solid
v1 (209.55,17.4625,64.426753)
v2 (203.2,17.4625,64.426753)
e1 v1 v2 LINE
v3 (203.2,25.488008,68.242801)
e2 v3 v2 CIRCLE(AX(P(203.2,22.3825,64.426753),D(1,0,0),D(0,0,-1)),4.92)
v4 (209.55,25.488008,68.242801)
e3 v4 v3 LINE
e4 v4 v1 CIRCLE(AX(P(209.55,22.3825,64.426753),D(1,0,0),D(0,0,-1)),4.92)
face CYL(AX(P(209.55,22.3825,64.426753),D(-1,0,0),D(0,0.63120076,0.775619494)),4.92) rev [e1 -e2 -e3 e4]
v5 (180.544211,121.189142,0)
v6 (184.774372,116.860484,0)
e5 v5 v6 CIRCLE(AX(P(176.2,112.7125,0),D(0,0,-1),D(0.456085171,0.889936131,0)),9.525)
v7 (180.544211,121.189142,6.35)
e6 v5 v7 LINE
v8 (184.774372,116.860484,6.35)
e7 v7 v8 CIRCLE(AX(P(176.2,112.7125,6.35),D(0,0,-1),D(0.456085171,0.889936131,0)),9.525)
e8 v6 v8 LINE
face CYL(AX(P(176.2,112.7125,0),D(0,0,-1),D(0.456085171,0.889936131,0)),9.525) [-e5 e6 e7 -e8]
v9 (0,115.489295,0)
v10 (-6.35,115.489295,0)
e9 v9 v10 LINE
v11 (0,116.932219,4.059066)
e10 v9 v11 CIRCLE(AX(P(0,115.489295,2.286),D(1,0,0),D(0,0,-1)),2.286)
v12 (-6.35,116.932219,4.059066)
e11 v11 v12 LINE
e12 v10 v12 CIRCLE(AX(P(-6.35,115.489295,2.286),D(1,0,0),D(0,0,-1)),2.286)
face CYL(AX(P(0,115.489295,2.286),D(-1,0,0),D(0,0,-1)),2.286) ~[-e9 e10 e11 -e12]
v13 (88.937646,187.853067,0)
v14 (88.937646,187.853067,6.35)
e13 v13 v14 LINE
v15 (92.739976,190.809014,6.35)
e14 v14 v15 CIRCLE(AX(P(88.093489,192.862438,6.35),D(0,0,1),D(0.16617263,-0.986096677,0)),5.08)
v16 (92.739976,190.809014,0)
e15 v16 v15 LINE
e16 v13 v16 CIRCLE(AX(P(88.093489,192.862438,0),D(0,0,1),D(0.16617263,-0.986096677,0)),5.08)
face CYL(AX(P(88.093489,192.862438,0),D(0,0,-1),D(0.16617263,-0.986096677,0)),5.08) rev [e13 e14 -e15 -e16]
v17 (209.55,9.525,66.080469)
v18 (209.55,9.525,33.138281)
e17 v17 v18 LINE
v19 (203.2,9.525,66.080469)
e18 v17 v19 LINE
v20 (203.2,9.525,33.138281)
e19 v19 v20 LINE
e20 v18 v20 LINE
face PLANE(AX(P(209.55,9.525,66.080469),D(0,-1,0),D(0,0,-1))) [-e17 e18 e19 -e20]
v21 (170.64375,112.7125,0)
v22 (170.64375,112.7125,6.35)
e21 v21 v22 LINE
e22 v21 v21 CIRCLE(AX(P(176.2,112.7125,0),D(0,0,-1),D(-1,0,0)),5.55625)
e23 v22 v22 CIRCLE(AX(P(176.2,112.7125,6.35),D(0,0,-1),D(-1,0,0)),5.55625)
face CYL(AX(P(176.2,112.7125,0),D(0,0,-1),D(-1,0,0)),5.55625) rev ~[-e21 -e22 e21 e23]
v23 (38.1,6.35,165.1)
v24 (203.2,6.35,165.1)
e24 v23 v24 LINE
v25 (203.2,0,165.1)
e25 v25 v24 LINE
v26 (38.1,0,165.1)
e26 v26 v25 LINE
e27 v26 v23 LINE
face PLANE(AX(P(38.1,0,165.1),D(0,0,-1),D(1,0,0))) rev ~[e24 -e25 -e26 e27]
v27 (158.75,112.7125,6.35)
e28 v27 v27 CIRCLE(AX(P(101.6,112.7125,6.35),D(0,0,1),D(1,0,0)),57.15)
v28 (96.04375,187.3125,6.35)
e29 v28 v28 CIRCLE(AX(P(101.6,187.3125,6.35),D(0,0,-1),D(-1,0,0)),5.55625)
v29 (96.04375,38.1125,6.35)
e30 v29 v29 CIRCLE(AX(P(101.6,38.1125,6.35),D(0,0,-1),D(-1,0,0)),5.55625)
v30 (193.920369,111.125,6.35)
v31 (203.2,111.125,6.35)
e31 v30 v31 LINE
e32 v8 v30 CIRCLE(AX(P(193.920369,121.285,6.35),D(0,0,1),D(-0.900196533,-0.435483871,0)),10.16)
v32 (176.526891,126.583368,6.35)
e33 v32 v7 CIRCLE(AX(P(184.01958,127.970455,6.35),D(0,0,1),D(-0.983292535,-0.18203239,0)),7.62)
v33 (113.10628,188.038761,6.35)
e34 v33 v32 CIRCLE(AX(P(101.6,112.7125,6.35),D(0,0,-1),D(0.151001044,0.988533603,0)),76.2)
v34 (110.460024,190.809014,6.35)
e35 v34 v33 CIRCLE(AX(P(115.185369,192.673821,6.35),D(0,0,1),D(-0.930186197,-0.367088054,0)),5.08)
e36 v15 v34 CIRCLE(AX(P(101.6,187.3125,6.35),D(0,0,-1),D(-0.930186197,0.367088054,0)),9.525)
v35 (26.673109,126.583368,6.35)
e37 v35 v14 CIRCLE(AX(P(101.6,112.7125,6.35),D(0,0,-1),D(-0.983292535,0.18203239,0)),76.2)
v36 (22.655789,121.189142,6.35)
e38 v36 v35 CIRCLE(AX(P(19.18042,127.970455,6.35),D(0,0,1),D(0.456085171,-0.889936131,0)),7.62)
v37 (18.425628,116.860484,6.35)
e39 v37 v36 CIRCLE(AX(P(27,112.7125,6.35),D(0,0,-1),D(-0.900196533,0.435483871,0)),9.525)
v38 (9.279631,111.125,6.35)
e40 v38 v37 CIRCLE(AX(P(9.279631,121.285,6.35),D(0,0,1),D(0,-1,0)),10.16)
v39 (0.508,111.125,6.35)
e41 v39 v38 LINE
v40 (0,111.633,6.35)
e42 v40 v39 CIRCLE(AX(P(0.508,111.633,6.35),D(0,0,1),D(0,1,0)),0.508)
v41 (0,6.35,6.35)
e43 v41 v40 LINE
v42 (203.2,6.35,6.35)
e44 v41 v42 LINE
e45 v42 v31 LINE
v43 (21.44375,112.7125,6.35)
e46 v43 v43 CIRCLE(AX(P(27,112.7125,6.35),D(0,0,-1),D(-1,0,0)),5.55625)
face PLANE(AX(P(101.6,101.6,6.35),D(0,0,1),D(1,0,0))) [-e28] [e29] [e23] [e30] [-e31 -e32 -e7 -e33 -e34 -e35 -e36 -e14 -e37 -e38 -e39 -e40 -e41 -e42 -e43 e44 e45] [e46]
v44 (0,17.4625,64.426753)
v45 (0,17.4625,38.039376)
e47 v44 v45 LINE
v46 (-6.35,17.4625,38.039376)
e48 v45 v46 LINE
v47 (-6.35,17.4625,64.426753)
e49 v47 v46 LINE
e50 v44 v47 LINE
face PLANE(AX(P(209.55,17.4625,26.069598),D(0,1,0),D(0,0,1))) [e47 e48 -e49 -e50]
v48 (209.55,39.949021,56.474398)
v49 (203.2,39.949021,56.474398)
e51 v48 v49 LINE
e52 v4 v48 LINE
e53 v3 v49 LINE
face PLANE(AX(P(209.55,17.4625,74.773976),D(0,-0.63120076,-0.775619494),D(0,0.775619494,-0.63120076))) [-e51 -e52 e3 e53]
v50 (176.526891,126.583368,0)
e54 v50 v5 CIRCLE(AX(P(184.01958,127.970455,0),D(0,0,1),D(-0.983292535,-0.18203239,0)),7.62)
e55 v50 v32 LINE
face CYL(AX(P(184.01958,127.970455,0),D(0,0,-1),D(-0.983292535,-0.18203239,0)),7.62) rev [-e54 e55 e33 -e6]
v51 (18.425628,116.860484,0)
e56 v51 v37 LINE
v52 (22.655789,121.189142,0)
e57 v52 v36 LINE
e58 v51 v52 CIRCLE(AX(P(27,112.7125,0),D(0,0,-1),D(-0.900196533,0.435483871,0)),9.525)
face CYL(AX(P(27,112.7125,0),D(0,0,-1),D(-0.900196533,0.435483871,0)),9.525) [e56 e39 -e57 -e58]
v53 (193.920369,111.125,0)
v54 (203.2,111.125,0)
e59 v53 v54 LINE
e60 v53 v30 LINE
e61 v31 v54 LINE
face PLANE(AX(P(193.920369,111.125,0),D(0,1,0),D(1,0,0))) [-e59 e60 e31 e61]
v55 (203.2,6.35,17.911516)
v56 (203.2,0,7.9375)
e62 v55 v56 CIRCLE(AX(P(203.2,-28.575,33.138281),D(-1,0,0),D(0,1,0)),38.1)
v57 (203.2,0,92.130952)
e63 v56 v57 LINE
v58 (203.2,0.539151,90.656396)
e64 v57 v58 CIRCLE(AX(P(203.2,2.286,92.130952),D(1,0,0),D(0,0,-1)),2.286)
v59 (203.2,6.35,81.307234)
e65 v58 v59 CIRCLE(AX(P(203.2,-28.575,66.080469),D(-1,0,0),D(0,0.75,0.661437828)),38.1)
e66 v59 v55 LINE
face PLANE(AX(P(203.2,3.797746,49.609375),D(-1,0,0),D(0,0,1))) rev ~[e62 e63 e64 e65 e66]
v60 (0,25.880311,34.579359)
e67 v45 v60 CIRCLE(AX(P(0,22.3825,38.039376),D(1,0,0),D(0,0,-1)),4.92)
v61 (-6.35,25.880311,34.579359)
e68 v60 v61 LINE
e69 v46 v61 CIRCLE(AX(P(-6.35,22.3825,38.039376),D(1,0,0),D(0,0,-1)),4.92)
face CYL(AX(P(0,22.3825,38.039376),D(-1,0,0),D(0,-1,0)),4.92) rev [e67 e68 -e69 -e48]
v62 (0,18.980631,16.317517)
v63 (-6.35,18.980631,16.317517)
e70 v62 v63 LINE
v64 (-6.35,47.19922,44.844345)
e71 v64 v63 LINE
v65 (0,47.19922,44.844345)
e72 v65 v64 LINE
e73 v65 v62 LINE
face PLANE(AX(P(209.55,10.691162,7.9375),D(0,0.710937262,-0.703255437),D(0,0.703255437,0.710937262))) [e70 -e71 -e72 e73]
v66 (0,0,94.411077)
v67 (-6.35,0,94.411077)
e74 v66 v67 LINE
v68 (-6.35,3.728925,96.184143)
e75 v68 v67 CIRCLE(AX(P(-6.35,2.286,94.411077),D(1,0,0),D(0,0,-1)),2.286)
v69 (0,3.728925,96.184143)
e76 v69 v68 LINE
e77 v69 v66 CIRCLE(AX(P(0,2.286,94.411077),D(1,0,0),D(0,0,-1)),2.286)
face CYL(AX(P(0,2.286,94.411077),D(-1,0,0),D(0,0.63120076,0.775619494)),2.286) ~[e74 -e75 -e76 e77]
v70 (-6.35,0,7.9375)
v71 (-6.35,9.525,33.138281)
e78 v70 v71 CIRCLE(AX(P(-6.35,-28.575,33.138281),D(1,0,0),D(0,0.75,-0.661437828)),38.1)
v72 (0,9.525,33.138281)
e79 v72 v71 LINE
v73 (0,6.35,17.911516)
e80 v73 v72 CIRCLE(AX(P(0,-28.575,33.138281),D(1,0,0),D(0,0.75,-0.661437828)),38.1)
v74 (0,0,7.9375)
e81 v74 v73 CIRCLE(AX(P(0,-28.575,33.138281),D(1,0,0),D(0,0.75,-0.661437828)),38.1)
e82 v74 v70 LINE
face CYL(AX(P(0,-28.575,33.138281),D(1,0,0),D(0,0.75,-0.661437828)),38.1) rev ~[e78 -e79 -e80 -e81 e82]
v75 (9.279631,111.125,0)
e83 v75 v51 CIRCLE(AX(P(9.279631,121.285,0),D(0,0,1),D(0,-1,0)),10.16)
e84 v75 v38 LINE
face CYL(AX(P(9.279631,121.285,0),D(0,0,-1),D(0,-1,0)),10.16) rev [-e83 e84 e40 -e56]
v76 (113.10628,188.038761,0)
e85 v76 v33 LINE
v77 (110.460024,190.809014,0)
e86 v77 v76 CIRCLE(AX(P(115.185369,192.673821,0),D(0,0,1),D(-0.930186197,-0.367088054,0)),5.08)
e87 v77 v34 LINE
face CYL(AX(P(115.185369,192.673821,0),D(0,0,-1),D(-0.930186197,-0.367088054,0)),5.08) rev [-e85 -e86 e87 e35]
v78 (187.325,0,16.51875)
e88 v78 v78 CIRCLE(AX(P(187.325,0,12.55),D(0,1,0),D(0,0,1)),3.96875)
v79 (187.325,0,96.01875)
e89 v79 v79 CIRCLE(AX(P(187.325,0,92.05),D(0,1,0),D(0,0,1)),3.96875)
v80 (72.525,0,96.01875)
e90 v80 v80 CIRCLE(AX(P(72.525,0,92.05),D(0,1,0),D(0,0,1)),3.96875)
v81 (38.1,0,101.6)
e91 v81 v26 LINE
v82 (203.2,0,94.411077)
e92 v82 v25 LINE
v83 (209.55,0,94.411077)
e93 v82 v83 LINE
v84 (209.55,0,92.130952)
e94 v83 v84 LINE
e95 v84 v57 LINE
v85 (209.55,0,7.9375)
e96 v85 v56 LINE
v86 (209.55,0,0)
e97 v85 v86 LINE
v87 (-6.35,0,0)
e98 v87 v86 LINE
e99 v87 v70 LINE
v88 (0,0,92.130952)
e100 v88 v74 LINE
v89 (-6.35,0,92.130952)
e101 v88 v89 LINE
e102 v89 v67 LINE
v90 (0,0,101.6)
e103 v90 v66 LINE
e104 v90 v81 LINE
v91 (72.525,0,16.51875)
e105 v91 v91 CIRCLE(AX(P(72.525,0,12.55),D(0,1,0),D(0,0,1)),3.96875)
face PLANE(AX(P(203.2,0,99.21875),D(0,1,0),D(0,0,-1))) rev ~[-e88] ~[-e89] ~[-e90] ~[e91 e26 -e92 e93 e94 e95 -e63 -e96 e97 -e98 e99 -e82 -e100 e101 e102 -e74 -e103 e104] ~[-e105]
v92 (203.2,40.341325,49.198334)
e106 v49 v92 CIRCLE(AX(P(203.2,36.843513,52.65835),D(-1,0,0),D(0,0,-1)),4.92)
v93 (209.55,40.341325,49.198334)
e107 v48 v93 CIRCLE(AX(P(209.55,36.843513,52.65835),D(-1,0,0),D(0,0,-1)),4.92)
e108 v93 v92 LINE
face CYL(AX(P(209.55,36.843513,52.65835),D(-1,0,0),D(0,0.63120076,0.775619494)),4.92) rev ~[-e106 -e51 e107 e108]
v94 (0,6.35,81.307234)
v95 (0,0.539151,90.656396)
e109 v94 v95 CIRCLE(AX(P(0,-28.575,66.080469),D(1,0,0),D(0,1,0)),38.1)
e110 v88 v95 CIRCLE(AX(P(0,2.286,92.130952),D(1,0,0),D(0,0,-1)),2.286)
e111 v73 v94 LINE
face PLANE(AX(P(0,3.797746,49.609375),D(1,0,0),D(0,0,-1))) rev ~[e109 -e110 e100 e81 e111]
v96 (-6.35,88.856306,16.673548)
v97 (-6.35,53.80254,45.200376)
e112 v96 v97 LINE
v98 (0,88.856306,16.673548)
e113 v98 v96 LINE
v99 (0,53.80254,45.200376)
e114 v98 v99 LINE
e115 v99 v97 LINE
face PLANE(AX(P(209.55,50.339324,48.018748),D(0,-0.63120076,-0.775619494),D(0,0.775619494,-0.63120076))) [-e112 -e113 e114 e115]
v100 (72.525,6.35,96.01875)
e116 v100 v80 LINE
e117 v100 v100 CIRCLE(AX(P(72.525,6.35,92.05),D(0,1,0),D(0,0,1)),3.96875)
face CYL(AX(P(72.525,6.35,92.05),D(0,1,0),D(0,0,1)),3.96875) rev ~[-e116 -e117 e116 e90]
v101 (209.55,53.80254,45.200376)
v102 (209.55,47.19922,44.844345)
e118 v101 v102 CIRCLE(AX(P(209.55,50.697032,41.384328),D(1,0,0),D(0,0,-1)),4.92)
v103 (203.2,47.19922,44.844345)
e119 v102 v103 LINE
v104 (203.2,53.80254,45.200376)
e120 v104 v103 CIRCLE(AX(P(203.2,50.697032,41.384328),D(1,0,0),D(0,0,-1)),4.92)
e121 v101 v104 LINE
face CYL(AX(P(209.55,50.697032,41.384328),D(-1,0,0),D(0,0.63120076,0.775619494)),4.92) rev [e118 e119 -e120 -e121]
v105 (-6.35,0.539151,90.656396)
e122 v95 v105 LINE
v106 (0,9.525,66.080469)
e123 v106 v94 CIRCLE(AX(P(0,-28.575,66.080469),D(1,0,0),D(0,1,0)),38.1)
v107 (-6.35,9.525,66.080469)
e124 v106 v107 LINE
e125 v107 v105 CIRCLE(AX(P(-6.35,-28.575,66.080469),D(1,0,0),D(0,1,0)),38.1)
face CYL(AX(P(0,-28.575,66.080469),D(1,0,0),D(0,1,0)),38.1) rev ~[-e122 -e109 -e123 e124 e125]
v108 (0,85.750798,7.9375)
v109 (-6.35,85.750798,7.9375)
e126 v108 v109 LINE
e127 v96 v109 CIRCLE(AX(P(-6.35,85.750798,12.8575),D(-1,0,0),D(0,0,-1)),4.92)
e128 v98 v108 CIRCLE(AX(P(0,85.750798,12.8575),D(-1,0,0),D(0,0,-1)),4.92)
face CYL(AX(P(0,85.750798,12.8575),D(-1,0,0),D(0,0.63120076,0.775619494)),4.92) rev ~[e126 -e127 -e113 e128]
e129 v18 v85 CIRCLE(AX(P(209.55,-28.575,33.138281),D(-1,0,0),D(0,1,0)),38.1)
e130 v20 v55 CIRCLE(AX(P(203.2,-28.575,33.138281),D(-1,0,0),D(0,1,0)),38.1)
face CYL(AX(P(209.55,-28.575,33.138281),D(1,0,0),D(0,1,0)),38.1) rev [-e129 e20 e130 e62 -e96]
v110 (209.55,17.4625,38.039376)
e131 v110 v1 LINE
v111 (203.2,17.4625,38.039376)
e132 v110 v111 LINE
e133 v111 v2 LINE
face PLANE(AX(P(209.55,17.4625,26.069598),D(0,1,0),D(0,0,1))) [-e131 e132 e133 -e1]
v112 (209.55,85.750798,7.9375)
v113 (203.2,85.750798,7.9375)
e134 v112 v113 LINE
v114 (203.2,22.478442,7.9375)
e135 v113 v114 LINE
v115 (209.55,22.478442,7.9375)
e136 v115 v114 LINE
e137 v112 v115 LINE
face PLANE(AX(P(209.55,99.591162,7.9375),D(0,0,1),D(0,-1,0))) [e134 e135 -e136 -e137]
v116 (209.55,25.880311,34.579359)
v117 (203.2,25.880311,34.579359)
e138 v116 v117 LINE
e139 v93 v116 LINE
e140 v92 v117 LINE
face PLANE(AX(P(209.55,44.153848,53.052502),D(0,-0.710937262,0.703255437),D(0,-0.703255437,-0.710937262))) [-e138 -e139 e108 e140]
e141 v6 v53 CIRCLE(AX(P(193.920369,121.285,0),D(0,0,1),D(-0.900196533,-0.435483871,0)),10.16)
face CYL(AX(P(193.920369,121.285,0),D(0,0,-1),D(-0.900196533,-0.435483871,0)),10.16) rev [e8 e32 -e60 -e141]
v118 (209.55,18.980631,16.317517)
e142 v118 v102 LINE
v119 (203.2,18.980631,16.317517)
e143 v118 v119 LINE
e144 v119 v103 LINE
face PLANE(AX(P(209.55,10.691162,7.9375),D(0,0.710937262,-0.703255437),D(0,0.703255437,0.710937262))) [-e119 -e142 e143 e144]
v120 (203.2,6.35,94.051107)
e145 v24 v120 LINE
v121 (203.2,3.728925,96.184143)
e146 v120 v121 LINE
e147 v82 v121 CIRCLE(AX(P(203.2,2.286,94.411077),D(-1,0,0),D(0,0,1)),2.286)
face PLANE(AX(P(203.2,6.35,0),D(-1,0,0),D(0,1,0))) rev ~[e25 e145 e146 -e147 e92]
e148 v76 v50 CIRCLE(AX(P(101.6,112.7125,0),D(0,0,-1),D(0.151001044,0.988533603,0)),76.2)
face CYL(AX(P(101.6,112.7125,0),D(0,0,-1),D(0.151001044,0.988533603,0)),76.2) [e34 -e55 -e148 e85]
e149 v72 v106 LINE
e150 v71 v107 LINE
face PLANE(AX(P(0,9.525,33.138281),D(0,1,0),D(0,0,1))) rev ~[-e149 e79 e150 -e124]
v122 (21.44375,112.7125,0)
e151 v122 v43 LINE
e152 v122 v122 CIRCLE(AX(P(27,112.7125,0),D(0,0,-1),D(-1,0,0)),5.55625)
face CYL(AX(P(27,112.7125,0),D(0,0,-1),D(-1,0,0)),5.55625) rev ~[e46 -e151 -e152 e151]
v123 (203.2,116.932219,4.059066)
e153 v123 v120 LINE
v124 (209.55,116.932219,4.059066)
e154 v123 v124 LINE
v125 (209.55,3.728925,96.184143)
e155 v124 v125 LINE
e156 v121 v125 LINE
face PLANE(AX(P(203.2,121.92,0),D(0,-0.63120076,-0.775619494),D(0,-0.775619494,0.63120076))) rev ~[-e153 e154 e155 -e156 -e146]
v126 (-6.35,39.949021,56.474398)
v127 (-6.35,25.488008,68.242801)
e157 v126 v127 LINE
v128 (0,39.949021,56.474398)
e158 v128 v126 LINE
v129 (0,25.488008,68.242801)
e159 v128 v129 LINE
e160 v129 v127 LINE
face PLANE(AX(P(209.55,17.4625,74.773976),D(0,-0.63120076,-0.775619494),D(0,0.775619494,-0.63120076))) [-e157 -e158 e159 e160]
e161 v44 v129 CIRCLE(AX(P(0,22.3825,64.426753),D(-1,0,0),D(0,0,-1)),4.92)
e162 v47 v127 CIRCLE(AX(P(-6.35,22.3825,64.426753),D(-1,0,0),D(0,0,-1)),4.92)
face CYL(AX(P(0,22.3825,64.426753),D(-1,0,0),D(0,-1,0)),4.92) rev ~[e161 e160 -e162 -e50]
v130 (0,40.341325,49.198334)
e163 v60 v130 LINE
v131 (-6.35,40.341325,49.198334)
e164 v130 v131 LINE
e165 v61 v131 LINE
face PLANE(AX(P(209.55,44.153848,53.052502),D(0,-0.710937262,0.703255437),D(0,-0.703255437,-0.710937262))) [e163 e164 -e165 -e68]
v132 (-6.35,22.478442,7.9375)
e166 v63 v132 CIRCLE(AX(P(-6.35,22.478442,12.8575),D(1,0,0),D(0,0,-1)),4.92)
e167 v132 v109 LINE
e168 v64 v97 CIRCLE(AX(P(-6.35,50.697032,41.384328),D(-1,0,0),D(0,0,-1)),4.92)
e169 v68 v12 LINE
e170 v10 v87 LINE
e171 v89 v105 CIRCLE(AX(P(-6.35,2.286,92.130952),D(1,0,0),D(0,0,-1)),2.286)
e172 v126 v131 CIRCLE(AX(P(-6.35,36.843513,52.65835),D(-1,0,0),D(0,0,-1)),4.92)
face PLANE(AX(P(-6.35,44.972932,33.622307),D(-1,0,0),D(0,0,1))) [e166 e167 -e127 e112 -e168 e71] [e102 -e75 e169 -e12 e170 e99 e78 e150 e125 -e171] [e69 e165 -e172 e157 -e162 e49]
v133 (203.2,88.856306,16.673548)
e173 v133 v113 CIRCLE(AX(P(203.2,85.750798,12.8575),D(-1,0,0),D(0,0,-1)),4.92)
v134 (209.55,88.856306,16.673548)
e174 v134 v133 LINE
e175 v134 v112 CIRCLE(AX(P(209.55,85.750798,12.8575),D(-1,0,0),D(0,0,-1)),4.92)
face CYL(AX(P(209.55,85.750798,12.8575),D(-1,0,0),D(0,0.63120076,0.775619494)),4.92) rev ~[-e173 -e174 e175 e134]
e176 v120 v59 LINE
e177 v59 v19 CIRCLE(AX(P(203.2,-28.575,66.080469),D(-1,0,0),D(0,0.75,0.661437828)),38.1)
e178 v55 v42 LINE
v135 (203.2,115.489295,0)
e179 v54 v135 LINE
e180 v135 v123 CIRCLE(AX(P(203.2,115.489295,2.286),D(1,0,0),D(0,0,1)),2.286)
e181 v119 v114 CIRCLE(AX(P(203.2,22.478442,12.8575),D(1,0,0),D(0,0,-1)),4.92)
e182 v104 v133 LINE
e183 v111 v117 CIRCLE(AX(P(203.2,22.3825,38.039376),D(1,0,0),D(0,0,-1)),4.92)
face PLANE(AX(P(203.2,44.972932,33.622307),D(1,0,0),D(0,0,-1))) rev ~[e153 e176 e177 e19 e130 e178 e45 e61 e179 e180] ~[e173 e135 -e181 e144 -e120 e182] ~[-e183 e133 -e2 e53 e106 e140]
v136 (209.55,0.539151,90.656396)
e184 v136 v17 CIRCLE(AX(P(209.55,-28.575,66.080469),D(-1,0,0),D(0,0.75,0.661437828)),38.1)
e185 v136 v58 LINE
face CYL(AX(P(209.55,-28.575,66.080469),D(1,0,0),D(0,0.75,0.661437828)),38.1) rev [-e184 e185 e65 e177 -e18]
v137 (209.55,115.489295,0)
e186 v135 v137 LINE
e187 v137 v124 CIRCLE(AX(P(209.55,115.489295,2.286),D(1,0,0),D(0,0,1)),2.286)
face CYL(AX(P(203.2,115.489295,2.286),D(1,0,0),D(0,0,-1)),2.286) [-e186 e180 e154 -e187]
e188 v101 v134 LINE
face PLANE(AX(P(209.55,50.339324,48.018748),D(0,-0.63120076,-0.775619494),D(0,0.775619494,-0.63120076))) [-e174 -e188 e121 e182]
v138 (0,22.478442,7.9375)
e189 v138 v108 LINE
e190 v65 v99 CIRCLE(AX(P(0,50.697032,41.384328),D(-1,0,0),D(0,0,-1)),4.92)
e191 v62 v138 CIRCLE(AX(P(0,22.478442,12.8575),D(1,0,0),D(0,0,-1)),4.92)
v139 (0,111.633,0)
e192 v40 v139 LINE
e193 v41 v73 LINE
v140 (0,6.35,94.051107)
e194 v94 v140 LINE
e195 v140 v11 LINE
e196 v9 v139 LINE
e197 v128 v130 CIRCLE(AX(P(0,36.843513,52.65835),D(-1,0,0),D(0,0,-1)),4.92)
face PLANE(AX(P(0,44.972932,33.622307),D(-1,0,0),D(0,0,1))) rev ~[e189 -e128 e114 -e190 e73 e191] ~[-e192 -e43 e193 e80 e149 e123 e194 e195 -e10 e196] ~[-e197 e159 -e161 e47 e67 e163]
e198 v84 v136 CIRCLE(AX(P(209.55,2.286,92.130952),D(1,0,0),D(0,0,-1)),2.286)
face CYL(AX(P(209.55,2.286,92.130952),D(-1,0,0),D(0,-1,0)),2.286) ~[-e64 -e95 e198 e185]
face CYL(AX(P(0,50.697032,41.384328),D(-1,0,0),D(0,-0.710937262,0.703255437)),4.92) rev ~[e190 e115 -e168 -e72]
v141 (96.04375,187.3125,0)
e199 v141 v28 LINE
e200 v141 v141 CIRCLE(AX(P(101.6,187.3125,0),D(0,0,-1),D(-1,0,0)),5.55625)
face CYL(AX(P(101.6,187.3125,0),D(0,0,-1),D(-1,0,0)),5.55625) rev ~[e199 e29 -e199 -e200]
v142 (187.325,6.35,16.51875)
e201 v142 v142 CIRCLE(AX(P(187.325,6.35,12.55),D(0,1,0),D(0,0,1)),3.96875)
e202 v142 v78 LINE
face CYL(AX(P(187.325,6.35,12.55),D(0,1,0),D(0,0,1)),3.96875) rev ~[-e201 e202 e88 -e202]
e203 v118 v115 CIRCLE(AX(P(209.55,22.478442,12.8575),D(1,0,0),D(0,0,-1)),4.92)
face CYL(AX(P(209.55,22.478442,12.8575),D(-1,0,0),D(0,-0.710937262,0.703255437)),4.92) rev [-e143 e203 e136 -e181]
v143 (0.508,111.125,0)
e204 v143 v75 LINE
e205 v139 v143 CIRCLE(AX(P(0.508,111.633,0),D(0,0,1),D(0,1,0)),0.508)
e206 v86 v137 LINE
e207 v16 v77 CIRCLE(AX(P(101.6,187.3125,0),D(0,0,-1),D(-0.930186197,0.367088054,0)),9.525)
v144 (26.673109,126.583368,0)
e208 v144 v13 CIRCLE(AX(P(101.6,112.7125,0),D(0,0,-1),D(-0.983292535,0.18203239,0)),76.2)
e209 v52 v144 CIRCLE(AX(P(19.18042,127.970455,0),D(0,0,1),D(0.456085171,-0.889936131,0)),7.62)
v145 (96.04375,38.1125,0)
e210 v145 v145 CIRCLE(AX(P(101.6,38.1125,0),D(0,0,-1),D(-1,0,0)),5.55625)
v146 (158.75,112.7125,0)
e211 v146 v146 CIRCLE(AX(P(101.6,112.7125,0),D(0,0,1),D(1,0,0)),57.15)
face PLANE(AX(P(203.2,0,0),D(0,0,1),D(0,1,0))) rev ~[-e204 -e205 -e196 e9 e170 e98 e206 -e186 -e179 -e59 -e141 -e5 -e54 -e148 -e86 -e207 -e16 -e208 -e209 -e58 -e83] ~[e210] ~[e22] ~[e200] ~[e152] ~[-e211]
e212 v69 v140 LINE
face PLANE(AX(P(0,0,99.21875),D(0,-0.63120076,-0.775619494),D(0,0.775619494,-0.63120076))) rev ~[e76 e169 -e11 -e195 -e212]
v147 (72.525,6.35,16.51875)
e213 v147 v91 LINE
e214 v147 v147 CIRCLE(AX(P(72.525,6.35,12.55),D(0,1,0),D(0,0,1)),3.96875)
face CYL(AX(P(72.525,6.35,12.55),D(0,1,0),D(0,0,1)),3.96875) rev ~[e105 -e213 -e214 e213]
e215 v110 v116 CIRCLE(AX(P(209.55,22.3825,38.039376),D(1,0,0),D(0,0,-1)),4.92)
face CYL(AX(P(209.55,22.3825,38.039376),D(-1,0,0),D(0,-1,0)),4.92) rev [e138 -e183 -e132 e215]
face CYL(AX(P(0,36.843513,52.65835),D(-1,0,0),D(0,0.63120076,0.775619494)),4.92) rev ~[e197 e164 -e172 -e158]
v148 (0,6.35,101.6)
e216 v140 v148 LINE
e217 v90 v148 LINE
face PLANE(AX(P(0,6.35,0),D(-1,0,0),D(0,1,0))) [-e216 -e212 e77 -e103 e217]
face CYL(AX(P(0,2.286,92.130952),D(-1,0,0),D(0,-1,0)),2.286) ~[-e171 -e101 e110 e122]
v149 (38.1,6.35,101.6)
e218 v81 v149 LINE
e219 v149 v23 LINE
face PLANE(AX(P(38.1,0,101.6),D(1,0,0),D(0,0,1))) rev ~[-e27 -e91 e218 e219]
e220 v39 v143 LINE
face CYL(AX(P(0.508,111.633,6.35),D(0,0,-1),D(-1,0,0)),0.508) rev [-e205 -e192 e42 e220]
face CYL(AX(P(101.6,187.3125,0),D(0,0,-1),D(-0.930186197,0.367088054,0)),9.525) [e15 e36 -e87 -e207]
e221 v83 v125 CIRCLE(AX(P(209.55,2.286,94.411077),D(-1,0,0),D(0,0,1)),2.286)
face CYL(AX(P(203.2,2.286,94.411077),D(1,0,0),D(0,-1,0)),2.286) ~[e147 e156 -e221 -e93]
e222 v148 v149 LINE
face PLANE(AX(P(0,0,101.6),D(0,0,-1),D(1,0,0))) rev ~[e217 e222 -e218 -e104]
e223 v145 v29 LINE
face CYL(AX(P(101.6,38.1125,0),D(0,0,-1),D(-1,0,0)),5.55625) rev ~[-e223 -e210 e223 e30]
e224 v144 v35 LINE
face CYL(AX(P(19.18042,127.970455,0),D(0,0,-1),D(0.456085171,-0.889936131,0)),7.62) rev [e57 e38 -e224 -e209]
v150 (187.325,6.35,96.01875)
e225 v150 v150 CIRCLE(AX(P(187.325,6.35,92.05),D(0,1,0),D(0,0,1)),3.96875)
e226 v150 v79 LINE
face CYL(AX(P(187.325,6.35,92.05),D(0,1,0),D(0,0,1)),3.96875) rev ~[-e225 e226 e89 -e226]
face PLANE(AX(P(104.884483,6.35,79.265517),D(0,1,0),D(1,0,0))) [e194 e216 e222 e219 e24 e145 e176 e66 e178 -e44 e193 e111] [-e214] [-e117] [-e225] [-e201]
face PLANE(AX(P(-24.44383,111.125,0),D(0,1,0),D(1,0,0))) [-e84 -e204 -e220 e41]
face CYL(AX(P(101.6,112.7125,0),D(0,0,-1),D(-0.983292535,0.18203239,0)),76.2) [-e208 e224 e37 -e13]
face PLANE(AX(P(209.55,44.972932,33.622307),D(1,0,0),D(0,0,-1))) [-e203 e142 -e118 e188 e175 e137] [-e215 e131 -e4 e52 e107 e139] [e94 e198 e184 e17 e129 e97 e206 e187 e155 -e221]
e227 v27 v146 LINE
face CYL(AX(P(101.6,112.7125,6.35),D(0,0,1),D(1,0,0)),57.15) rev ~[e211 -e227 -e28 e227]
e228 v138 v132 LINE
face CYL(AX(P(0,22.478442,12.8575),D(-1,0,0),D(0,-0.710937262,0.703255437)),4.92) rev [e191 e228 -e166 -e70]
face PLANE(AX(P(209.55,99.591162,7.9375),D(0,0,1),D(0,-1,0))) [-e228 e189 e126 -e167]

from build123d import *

# Parameters (mm, degrees)
BOSS_EXTRUDE1_DEPTH = 6.35
SKETCH3_W           = 203.2
SKETCH3_H           = 190.5
BOSS_EXTRUDE2_DEPTH = 6.35
SKETCH4_R           = 57.15
CUT_EXTRUDE1_DEPTH  = 6.35
SKETCH5_R           = 5.55625
CUT_EXTRUDE2_DEPTH  = 6.35
CUT_EXTRUDE3_DEPTH  = 6.35
SKETCH7_R           = 3.96875
CUT_EXTRUDE4_DEPTH  = 6.35
BOSS_EXTRUDE3_DEPTH = 6.35
BOSS_EXTRUDE4_DEPTH = 6.35
CUT_EXTRUDE5_DEPTH  = 6.35
CUT_EXTRUDE6_START  = -6.35
CUT_EXTRUDE6_DEPTH  = 6.35
CUT_EXTRUDE7_DEPTH  = 336.582808568
FILLET1_R           = 4.92
FILLET4_R           = 2.286
FILLET6_R           = 0.508


with BuildPart() as part:
    # Sketch2 → Boss-Extrude1 (new body)
    with BuildSketch(Plane(origin=(0, 0, 0), x_dir=(1, 0, 0), z_dir=(0, 1, 0))):
        Polygon((0, 0), (0, -101.6), (38.1, -101.6), (38.1, -165.1), (203.2, -165.1), (203.2, 0), align=None)
    extrude(amount=BOSS_EXTRUDE1_DEPTH)

    # Sketch3 → Boss-Extrude2 (add)
    with BuildSketch(Plane.XY):
        with Locations((101.6, 101.6)):
            Rectangle(SKETCH3_W, SKETCH3_H)
    extrude(amount=BOSS_EXTRUDE2_DEPTH)

    # Sketch4 → Cut-Extrude1 (cut)
    with BuildSketch(Plane.XY.offset(6.35)):
        with Locations((101.6, 112.7125)):
            Circle(SKETCH4_R)
    extrude(amount=-CUT_EXTRUDE1_DEPTH, mode=Mode.SUBTRACT)

    # Sketch5 → Cut-Extrude2 (cut)
    with BuildSketch(Plane(origin=(0, 0, 0), x_dir=(-1, 0, 0), z_dir=(0, 0, -1))):
        with Locations((-101.6, 38.1125)):
            Circle(SKETCH5_R)
        with Locations((-101.6, 187.3125)):
            Circle(SKETCH5_R)
        with Locations((-27, 112.7125)):
            Circle(SKETCH5_R)
        with Locations((-176.2, 112.7125)):
            Circle(SKETCH5_R)
    extrude(amount=-CUT_EXTRUDE2_DEPTH, mode=Mode.SUBTRACT)

    # Sketch6 → Cut-Extrude3 (cut)
    with BuildSketch(Plane(origin=(0, 0, 0), x_dir=(-1, 0, 0), z_dir=(0, 0, -1))):
        with BuildLine():
            Line((0, 111.125), (-9.279631247, 111.125))
            ThreePointArc((-9.279631247, 111.125), (-14.677432472, 112.677483405), (-18.425628023, 116.860483871))
            ThreePointArc((-18.425628023, 116.860483871), (-20.187748704, 119.369740966), (-22.655788744, 121.189141644))
            ThreePointArc((-22.655788744, 121.189141644), (-25.29180212, 123.419037006), (-26.673108853, 126.583368145))
            ThreePointArc((-26.673108853, 126.583368145), (-48.154111696, 167.026190939), (-88.937645626, 187.853066818))
            ThreePointArc((-88.937645626, 187.853066818), (-91.211372645, 188.851802141), (-92.739976476, 190.809013713))
            ThreePointArc((-92.739976476, 190.809013713), (-101.6, 196.8375), (-110.460023524, 190.809013713))
            ThreePointArc((-110.460023524, 190.809013713), (-111.511997393, 189.164869891), (-113.106279584, 188.038760561))
            ThreePointArc((-113.106279584, 188.038760561), (-154.627017311, 167.435214069), (-176.526891147, 126.583368145))
            ThreePointArc((-176.526891147, 126.583368145), (-177.90819788, 123.419037006), (-180.544211256, 121.189141644))
            ThreePointArc((-180.544211256, 121.189141644), (-183.012251296, 119.369740966), (-184.774371977, 116.860483871))
            ThreePointArc((-184.774371977, 116.860483871), (-188.522567528, 112.677483405), (-193.920368753, 111.125))
            Line((-193.920368753, 111.125), (-203.2, 111.125))
            Line((-203.2, 111.125), (-224.605111479, 111.125))
            Line((-224.605111479, 111.125), (-224.605111479, 212.995219786))
            Line((-224.605111479, 212.995219786), (24.443830007, 212.995219786))
            Line((24.443830007, 212.995219786), (24.443830007, 111.125))
            Line((24.443830007, 111.125), (0, 111.125))
        make_face()
    extrude(amount=-CUT_EXTRUDE3_DEPTH, mode=Mode.SUBTRACT)

    # Sketch7 → Cut-Extrude4 (cut)
    with BuildSketch(Plane(origin=(0, 6.35, 0), x_dir=(1, 0, 0), z_dir=(0, 1, 0))):
        with Locations(Location((187.325, -92.05, 0), (0, 0, 270))):
            Circle(SKETCH7_R)
        with Locations(Location((187.325, -12.55, 0), (0, 0, 270))):
            Circle(SKETCH7_R)
        with Locations(Location((72.525, -12.55, 0), (0, 0, 270))):
            Circle(SKETCH7_R)
        with Locations(Location((72.525, -92.05, 0), (0, 0, 270))):
            Circle(SKETCH7_R)
    extrude(amount=-CUT_EXTRUDE4_DEPTH, mode=Mode.SUBTRACT)

    # Sketch8 → Boss-Extrude3 (add)
    with BuildSketch(Plane(origin=(0, 0, 0), x_dir=(0, 0, -1), z_dir=(1, 0, 0))):
        Polygon((0, 0), (-99.21875, 0), (0, 121.92), align=None)
    extrude(amount=-BOSS_EXTRUDE3_DEPTH)

    # Sketch10 → Boss-Extrude4 (add)
    with BuildSketch(Plane(origin=(203.2, 0, 0), x_dir=(0, 0, -1), z_dir=(1, 0, 0))):
        Polygon((-99.21875, 0), (0, 0), (0, 121.92), align=None)
    extrude(amount=BOSS_EXTRUDE4_DEPTH)

    # Sketch11 → Cut-Extrude5 (cut)
    with BuildSketch(Plane(origin=(209.55, 0, 0), x_dir=(0, 0, -1), z_dir=(1, 0, 0))):
        with BuildLine():
            Line((-7.9375, 0), (-91.28125, 0))
            ThreePointArc((-91.28125, 0), (-79.550852944, 7.064286609), (-66.080468762, 9.525))
            Line((-66.080468762, 9.525), (-33.138281238, 9.525))
            ThreePointArc((-33.138281238, 9.525), (-19.667897056, 7.064286609), (-7.9375, 0))
        make_face()
    extrude(amount=-CUT_EXTRUDE5_DEPTH, mode=Mode.SUBTRACT)

    # Sketch12 → Cut-Extrude6 (cut)
    with BuildSketch(Plane.ZY.offset(6.35).offset(CUT_EXTRUDE6_START)):
        with BuildLine():
            Line((91.28125, 0), (7.9375, 0))
            ThreePointArc((7.9375, 0), (19.667897056, 7.064286609), (33.138281238, 9.525))
            Line((33.138281238, 9.525), (66.080468762, 9.525))
            ThreePointArc((66.080468762, 9.525), (79.550852944, 7.064286609), (91.28125, 0))
        make_face()
    extrude(amount=CUT_EXTRUDE6_DEPTH, mode=Mode.SUBTRACT)

    # Sketch13 → Cut-Extrude7 (cut, through all)
    with BuildSketch(Plane(origin=(209.55, 0, 0), x_dir=(0, 0, -1), z_dir=(1, 0, 0))):
        Polygon((-7.9375, 99.591161664), (-7.9375, 10.691161664), (-48.018748286, 50.339323771), align=None)
        Polygon((-53.052501721, 44.153847549), (-26.069598319, 17.4625), (-74.773975963, 17.4625), align=None)
    extrude(amount=-CUT_EXTRUDE7_DEPTH, mode=Mode.SUBTRACT)

    # Fillet1
    fillet1_edges = [part.edges().sort_by_distance(p)[0] for p in [
        (206.375, 50.339323771, 48.018748286),
        (-3.175, 50.339323771, 48.018748286),
        (206.375, 99.591161664, 7.9375),
        (-3.175, 99.591161664, 7.9375),
        (206.375, 10.691161664, 7.9375),
        (-3.175, 10.691161664, 7.9375),
        (206.375, 44.153847549, 53.052501721),
        (-3.175, 44.153847549, 53.052501721),
        (206.375, 17.4625, 26.069598319),
        (-3.175, 17.4625, 26.069598319),
        (206.375, 17.4625, 74.773975963),
        (-3.175, 17.4625, 74.773975963),
    ]]
    fillet(fillet1_edges, radius=FILLET1_R)

    # Fillet4
    fillet4_edges = [part.edges().sort_by_distance(p)[0] for p in [
        (-3.175, 121.92, 0),
        (-3.175, 0, 99.21875),
        (206.375, 121.92, 0),
        (206.375, 0, 99.21875),
        (206.375, 0, 91.28125),
        (-3.175, 0, 91.28125),
    ]]
    fillet(fillet4_edges, radius=FILLET4_R)

    # Fillet6
    fillet6_edges = [part.edges().sort_by_distance(p)[0] for p in [
        (0, 111.125, 3.175),
    ]]
    fillet(fillet6_edges, radius=FILLET6_R)


solid = part.part
